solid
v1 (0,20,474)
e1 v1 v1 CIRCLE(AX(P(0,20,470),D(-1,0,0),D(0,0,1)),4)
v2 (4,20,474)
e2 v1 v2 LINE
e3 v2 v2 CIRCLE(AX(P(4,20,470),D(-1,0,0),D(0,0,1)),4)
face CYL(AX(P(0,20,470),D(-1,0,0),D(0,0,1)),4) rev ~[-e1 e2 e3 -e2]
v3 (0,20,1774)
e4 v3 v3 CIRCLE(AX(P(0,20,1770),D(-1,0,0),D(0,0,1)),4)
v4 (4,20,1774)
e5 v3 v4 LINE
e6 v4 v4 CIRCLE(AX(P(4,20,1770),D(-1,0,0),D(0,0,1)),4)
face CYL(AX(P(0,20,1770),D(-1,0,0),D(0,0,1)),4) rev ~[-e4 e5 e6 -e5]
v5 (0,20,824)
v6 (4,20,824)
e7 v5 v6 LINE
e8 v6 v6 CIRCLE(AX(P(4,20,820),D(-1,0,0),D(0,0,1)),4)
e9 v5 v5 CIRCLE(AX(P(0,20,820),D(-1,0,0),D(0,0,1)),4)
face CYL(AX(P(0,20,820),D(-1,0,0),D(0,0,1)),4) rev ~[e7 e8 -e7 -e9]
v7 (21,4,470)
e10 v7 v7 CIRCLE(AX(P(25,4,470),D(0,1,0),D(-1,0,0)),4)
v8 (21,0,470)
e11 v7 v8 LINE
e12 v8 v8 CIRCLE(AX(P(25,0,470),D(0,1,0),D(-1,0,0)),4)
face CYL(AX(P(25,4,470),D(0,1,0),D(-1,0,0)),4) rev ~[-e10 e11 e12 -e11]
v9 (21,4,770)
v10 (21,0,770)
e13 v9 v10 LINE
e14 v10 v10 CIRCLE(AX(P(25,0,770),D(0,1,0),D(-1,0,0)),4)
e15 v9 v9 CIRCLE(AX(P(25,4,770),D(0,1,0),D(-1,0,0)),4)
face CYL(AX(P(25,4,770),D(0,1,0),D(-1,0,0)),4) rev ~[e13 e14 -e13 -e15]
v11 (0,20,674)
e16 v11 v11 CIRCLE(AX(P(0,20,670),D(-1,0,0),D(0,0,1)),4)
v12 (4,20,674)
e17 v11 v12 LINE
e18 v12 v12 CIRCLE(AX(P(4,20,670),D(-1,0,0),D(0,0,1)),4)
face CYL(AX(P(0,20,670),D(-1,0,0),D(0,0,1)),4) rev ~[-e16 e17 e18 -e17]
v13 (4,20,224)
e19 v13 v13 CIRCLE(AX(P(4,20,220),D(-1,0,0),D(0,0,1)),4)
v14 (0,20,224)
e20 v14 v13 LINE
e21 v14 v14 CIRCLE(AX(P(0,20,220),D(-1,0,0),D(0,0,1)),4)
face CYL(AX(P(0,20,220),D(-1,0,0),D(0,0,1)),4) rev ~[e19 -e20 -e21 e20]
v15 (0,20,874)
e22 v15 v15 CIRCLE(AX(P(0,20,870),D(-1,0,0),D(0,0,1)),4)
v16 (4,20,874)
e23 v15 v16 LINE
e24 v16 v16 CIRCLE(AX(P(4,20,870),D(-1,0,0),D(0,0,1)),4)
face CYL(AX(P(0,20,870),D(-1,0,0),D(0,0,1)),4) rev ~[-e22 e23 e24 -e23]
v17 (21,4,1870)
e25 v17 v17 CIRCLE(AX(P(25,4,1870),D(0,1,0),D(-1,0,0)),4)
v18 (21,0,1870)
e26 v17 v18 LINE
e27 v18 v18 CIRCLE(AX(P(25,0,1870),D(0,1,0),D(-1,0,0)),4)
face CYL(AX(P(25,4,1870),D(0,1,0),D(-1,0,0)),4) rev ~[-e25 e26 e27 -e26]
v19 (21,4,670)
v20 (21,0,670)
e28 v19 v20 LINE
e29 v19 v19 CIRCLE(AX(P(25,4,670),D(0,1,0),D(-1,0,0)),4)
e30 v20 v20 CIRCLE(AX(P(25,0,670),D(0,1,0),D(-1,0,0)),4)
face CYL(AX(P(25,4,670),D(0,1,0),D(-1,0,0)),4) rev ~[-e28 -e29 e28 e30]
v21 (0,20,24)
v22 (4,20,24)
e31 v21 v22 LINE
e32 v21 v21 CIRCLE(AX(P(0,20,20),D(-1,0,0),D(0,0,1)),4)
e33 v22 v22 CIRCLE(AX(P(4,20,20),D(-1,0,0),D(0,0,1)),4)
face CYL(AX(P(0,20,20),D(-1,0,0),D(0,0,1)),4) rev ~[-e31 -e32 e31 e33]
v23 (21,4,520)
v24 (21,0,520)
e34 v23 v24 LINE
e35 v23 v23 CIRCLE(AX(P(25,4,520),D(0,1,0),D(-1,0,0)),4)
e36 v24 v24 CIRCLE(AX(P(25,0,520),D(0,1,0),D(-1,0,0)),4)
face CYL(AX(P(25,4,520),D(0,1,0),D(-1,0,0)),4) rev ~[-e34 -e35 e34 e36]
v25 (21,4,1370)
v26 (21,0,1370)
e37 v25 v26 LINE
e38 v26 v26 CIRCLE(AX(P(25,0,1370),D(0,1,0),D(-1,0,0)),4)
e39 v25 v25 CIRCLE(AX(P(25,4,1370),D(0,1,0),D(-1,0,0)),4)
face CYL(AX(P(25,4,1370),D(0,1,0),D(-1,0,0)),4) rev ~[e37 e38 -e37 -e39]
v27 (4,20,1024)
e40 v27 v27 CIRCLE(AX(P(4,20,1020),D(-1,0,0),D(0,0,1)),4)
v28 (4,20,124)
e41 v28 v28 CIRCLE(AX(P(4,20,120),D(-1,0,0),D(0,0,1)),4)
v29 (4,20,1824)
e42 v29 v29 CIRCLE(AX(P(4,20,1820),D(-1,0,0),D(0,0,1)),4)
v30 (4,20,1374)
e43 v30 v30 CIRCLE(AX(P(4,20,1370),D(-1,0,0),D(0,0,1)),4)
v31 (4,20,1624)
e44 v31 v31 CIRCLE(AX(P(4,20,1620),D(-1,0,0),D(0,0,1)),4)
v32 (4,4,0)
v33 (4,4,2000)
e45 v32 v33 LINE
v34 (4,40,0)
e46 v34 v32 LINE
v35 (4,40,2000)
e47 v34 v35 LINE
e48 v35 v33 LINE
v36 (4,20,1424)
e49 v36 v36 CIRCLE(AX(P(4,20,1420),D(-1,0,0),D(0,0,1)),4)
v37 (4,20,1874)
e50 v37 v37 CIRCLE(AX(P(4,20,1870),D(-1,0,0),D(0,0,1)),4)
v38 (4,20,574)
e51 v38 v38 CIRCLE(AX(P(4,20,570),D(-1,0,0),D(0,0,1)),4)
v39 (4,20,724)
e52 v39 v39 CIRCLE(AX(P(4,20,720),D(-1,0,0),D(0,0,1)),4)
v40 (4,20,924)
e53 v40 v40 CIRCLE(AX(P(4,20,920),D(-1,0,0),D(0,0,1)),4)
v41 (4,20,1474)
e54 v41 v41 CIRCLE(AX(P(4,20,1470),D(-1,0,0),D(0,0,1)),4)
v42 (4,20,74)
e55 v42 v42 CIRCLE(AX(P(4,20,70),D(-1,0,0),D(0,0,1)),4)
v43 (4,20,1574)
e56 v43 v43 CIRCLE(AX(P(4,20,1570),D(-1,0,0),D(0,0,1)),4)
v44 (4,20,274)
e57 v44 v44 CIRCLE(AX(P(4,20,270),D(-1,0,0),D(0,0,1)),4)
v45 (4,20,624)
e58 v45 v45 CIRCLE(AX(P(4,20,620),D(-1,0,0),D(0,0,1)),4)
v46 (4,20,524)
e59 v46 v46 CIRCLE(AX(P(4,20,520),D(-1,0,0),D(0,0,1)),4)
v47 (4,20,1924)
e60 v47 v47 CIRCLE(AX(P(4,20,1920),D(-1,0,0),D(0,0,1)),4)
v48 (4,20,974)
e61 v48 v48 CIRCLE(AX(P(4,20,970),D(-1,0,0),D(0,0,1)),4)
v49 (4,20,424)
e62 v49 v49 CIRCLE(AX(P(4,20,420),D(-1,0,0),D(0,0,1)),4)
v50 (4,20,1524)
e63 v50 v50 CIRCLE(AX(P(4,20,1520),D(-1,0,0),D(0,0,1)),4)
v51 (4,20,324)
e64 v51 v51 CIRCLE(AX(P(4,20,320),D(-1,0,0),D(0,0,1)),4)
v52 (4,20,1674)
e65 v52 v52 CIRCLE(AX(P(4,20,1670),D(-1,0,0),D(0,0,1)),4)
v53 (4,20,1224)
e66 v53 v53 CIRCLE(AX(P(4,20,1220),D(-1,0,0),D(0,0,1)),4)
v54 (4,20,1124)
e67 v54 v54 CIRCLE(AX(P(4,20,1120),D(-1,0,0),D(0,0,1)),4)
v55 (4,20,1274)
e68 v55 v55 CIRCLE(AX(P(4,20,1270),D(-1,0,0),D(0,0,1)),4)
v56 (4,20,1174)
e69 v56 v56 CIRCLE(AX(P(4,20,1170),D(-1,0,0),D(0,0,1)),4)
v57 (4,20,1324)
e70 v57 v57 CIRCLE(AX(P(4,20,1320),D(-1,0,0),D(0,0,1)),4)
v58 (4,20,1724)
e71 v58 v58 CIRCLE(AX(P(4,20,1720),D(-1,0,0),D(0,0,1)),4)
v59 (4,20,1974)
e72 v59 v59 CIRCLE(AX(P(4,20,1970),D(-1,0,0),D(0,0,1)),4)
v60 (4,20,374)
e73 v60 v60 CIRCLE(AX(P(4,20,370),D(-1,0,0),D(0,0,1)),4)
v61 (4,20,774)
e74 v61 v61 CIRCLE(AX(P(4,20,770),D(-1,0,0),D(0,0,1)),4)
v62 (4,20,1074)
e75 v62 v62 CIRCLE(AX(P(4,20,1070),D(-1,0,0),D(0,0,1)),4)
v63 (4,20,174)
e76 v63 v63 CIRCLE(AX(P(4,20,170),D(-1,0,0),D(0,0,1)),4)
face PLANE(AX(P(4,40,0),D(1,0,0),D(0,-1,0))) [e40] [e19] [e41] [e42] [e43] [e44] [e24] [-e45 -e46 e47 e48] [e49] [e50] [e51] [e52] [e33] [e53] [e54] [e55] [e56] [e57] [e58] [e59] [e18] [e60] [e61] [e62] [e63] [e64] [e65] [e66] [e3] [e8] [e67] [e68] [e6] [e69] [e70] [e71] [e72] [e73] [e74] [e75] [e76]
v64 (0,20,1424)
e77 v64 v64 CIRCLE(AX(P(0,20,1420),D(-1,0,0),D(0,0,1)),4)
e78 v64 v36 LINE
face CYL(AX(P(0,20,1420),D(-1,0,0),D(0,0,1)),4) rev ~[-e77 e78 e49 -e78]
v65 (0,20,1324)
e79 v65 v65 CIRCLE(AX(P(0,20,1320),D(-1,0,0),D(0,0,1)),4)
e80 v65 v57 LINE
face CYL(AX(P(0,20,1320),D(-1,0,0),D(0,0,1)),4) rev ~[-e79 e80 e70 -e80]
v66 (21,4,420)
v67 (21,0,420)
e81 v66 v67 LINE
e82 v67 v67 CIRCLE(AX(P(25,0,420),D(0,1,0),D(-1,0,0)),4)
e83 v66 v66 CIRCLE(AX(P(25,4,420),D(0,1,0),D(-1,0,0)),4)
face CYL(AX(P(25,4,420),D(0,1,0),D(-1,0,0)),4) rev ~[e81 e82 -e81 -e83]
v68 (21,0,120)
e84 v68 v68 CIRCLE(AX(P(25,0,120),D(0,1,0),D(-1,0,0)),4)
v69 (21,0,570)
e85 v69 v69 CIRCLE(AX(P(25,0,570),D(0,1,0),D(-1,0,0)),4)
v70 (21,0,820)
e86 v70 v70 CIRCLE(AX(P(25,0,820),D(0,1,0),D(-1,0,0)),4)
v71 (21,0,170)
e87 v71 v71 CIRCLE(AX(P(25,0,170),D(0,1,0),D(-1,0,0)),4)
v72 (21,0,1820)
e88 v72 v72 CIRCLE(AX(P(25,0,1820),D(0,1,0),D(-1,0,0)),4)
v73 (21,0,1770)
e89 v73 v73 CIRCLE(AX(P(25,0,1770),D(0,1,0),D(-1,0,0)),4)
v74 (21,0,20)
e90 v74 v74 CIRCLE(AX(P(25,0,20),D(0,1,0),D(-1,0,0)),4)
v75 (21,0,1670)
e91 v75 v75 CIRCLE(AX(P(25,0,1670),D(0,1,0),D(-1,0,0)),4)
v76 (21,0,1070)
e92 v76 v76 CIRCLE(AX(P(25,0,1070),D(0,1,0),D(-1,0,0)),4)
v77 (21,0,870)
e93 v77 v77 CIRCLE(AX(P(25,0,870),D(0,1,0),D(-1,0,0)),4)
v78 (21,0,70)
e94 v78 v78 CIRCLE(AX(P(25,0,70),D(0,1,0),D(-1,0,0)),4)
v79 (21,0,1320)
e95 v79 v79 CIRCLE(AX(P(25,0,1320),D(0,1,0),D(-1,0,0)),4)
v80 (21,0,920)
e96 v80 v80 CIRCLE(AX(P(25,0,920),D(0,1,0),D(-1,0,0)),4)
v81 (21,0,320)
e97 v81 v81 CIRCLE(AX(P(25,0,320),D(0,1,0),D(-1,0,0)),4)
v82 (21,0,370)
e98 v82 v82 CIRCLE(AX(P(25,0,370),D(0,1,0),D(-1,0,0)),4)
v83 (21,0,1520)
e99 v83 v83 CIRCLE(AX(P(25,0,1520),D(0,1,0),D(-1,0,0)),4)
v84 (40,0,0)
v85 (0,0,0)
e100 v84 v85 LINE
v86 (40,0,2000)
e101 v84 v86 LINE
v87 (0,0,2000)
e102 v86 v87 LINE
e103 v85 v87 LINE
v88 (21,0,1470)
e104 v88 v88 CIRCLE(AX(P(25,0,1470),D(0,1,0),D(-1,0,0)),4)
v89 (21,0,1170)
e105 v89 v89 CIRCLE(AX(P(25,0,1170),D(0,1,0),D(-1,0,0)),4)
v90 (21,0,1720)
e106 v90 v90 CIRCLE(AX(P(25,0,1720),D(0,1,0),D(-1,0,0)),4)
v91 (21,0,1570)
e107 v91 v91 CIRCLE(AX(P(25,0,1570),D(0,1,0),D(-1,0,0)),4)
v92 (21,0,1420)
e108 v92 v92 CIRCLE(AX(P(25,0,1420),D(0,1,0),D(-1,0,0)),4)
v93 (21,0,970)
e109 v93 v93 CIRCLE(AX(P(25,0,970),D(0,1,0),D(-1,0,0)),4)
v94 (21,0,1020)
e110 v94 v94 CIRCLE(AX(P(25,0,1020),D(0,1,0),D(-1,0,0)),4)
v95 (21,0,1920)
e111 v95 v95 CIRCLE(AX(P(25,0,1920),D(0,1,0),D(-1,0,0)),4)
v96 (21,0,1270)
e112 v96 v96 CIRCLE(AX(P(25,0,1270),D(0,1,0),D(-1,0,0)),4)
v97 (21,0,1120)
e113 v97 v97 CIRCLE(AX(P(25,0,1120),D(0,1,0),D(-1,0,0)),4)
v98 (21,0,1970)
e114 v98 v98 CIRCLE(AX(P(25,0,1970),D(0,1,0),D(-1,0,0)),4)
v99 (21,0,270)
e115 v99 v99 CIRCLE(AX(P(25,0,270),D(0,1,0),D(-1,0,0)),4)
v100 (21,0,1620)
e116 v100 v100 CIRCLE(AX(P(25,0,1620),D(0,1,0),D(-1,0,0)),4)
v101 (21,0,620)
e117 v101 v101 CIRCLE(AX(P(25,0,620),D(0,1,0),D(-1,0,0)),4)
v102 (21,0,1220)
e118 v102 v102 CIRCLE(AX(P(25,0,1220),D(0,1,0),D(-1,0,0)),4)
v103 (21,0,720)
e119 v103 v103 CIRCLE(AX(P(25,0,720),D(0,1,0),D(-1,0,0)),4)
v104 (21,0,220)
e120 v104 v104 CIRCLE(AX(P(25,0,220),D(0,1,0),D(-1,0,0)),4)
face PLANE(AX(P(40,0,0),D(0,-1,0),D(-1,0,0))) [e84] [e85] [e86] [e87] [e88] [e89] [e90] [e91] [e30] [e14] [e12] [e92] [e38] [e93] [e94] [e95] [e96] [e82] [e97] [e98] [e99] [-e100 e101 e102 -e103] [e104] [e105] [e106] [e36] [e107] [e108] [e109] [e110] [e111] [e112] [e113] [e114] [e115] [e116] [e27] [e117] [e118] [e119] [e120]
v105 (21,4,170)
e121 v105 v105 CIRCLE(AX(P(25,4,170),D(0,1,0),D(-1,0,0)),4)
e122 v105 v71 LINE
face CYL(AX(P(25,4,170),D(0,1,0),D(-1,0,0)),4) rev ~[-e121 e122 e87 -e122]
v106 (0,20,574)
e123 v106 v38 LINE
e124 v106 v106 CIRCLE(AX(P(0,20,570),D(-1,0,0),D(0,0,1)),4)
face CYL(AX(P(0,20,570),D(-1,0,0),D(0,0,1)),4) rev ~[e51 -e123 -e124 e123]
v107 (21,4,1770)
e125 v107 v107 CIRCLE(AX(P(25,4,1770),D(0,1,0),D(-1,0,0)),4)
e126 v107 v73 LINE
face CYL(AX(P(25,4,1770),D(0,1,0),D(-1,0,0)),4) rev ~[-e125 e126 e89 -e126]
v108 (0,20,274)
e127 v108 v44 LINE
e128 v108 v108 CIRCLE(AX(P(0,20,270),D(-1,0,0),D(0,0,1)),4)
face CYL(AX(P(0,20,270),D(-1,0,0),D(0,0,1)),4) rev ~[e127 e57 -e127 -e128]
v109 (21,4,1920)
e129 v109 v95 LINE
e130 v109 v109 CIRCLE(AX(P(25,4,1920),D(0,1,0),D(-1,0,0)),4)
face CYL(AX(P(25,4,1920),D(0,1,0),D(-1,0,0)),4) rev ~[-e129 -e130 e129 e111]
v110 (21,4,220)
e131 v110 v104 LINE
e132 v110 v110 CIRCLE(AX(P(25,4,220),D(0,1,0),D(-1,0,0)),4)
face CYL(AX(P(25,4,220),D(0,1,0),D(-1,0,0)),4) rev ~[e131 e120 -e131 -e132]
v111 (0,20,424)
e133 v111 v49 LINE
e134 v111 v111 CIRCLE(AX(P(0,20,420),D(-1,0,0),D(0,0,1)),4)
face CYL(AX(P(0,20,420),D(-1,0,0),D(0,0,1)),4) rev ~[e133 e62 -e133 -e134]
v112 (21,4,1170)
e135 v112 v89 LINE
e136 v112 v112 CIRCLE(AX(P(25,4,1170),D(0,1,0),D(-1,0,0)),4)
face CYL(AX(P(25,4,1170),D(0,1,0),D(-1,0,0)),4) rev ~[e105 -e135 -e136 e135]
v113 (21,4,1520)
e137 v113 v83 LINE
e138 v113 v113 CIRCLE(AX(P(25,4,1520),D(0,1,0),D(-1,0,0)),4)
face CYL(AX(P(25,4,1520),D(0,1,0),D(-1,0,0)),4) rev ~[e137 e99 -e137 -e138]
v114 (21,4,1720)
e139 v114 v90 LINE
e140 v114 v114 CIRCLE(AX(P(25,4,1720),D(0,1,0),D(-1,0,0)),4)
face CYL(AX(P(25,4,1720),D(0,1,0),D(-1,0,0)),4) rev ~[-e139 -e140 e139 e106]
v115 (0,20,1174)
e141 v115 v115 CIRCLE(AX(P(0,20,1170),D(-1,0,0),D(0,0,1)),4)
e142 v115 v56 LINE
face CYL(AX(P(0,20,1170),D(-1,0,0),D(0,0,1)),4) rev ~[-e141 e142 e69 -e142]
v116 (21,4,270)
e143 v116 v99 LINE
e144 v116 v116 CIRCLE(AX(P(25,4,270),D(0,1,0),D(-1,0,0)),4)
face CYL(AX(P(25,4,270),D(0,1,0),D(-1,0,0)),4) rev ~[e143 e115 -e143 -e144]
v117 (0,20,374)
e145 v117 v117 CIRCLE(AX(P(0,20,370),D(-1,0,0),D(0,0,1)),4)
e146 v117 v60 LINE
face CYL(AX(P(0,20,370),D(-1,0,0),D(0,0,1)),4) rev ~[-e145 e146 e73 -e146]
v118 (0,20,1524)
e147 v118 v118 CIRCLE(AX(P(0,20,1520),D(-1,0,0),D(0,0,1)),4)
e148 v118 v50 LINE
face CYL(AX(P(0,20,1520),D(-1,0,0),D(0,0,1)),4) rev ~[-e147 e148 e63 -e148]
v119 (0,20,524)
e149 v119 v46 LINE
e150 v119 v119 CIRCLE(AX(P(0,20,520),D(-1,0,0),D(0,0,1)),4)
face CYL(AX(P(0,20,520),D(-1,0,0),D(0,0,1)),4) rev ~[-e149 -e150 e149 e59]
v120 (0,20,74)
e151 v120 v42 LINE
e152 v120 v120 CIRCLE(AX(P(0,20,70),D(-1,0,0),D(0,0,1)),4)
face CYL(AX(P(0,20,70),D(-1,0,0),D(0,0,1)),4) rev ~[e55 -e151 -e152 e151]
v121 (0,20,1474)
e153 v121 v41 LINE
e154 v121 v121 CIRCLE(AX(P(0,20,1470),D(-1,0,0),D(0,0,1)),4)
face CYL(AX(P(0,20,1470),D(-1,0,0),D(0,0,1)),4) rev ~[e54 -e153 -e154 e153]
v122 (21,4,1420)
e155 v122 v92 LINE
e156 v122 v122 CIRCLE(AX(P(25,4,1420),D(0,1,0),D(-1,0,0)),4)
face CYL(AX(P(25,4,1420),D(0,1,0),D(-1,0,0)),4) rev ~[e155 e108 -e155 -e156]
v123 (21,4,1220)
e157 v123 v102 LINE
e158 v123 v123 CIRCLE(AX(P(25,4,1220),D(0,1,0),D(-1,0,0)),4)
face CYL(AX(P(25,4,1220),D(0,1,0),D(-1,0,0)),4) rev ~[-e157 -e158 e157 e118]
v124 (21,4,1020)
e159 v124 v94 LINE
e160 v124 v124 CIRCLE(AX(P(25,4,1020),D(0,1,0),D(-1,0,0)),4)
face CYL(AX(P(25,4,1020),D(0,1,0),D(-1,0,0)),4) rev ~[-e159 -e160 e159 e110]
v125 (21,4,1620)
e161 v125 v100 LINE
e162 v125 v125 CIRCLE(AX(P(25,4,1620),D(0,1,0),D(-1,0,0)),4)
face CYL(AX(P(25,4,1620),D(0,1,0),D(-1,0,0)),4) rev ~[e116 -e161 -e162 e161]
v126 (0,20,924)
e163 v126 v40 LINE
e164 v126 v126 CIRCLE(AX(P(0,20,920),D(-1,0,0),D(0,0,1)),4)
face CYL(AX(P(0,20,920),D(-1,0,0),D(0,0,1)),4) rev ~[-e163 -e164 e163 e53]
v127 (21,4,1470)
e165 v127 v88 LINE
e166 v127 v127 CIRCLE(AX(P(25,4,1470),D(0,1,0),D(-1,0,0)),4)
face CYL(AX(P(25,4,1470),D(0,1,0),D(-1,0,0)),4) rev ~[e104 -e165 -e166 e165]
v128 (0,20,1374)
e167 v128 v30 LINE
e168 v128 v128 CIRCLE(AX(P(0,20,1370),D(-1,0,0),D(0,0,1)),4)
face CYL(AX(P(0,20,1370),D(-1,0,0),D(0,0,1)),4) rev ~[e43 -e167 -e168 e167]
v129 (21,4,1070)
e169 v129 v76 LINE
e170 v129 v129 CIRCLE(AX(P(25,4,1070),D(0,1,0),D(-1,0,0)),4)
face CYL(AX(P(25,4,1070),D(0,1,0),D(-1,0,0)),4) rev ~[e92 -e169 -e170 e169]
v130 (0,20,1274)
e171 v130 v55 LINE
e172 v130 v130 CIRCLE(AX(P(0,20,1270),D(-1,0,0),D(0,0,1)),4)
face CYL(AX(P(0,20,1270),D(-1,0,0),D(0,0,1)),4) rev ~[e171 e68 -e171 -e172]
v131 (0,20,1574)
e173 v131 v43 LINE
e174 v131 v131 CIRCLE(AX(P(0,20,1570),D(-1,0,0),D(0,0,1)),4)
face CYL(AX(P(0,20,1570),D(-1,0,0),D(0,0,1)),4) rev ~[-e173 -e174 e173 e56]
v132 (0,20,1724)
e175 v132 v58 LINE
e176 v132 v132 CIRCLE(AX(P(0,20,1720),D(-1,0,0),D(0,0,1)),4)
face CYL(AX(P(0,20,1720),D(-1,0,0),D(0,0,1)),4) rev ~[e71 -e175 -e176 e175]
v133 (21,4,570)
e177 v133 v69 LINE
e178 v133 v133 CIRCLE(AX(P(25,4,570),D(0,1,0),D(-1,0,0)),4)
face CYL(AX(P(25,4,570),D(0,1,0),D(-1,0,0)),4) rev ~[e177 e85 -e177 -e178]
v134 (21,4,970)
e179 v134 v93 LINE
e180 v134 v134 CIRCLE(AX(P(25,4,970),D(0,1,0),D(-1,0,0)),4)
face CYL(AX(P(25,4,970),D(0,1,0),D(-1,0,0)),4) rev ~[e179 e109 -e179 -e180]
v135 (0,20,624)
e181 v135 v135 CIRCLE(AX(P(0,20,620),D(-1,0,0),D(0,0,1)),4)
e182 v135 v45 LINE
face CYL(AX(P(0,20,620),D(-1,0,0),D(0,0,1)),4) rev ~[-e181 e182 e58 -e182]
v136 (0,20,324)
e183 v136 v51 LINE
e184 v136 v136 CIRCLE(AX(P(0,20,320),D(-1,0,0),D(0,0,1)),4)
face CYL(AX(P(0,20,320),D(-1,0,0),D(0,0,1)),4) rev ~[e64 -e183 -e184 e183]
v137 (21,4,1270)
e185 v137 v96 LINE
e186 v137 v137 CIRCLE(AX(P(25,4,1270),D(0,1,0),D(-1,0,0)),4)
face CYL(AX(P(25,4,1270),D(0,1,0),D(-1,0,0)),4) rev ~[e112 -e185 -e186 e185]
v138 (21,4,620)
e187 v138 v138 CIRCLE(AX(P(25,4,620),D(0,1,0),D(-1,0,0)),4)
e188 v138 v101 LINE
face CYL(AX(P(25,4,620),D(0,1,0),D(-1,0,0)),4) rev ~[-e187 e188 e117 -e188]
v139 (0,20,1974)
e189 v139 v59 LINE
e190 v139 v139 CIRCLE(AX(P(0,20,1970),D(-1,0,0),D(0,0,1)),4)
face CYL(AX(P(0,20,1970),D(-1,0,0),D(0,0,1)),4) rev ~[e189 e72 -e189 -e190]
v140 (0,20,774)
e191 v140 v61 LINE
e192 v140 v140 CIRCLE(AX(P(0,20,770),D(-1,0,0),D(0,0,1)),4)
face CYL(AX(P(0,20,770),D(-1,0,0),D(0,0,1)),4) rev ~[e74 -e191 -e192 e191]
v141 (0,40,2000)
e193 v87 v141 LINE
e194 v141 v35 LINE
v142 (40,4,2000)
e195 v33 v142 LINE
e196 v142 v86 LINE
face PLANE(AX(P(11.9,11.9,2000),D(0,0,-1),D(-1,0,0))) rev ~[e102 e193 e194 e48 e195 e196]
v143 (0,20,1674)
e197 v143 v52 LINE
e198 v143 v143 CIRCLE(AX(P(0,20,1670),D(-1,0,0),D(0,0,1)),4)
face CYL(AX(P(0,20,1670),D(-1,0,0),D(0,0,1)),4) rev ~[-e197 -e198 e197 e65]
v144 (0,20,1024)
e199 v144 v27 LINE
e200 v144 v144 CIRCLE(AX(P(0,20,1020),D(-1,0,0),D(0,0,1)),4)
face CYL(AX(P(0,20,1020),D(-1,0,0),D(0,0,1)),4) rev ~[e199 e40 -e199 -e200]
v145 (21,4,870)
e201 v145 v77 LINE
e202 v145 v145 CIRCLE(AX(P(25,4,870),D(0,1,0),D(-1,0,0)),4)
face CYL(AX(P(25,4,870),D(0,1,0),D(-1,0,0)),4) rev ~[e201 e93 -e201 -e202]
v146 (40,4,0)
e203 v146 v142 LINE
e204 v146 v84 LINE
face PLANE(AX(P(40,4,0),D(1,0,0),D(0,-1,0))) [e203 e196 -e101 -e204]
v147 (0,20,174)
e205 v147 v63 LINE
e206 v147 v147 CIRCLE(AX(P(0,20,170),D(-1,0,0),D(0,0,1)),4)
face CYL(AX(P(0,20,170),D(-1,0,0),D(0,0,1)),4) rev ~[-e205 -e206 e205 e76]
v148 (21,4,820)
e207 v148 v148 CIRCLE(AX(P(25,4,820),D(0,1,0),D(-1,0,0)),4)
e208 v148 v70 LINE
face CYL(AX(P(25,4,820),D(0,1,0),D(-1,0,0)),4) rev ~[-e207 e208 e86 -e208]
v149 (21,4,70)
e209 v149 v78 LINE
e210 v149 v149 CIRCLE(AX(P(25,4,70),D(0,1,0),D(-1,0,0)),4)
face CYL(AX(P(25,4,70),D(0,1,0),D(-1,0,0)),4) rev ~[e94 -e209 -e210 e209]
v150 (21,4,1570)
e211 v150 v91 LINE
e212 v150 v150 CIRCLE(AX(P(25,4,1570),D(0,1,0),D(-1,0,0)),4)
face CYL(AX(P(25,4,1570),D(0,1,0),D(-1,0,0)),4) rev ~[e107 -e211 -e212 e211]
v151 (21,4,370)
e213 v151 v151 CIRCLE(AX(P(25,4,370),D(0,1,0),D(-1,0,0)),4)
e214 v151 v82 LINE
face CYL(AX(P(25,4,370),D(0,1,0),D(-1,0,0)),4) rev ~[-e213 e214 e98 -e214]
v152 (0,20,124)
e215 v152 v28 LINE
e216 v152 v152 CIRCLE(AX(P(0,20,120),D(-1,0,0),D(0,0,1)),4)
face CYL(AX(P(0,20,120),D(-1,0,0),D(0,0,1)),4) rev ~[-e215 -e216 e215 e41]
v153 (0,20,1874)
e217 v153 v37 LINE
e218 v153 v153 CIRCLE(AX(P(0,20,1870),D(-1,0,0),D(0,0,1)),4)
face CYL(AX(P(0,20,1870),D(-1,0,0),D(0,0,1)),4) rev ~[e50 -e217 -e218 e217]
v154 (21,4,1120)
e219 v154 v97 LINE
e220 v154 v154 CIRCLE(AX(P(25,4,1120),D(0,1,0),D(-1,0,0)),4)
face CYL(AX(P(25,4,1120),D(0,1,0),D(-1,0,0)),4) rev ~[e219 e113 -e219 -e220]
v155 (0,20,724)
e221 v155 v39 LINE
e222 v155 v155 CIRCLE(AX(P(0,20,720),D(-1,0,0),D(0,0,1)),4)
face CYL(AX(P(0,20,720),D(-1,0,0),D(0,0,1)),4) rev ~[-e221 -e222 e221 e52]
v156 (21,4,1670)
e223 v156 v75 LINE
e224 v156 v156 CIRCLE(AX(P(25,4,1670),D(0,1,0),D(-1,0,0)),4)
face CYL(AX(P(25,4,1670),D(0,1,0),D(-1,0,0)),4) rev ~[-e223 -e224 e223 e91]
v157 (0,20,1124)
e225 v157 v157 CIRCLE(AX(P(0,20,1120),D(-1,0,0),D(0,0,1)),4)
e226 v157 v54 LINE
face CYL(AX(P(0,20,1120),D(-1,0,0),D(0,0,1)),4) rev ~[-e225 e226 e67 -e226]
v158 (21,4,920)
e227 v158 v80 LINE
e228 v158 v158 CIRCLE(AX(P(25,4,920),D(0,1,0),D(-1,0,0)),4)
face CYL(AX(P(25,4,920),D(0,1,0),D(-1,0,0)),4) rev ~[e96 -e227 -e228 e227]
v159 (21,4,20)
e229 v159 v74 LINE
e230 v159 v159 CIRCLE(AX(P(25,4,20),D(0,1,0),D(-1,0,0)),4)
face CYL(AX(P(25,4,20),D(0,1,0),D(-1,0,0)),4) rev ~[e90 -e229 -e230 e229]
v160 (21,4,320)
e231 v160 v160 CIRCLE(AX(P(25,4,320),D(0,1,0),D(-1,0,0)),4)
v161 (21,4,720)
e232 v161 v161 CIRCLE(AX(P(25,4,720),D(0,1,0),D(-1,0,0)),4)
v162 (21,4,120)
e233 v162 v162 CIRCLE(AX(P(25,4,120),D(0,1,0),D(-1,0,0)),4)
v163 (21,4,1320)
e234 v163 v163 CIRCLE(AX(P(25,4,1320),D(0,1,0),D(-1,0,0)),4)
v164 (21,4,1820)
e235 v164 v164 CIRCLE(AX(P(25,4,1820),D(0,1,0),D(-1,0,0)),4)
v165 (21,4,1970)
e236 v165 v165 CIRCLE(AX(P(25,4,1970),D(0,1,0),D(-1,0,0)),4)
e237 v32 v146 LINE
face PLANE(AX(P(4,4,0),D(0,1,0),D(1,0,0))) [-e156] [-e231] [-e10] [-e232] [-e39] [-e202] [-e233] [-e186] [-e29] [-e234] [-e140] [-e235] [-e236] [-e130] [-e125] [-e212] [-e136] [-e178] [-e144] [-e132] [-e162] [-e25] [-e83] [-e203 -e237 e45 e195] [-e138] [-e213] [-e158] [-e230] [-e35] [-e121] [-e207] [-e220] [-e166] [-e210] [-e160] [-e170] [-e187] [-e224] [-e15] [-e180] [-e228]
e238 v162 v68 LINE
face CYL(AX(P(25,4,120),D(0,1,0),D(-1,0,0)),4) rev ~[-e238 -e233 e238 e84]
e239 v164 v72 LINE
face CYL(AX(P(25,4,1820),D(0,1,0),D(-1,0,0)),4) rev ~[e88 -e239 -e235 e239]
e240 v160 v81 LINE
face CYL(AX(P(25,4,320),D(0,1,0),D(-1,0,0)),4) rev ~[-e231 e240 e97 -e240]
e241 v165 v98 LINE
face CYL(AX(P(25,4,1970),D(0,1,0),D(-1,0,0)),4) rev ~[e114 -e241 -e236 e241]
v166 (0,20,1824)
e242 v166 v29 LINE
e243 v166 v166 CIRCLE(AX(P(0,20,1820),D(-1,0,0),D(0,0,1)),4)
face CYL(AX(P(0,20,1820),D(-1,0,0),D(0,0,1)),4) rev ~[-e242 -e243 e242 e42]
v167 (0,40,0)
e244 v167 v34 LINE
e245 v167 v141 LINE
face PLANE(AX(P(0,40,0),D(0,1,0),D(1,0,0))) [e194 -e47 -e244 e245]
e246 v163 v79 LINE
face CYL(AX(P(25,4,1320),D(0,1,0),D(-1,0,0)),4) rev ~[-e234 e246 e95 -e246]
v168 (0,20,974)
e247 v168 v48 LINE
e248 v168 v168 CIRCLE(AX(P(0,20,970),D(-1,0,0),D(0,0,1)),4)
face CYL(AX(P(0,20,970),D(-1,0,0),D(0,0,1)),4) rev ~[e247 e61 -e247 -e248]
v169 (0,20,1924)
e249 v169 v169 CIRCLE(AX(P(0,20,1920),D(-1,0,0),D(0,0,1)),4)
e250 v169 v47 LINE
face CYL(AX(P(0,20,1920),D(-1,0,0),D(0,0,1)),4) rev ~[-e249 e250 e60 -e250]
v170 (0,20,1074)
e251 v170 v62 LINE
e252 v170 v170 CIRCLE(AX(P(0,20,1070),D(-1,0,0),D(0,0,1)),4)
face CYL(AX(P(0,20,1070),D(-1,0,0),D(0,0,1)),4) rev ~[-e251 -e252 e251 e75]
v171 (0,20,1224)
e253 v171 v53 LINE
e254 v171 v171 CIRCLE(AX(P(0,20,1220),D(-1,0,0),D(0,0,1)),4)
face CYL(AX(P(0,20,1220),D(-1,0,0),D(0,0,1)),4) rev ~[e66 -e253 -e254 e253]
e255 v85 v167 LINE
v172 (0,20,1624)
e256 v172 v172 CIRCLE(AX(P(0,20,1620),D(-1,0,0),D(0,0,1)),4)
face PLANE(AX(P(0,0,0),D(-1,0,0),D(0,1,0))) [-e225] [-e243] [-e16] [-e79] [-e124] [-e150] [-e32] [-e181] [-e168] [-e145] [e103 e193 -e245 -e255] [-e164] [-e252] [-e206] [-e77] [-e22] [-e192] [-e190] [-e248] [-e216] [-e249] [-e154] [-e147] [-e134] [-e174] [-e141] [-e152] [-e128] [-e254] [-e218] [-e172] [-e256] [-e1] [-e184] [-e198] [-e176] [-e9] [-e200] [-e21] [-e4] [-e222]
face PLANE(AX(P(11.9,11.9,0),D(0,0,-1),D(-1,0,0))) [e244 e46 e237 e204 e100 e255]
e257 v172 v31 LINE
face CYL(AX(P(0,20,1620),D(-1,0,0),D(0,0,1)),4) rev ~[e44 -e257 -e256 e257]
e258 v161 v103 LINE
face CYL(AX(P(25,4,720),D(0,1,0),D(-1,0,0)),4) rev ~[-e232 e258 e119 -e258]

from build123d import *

# Parameters (mm, degrees)
SALIENTE_EXTRUIR1_DEPTH = 2000
CROQUIS2_R              = 4
CORTAR_EXTRUIR1_DEPTH   = 10
MATRIZL1_COUNT          = 40
MATRIZL1_PITCH          = 50
SKETCH1_R               = 4
CUT_EXTRUDE1_DEPTH      = 10


with BuildPart() as part:
    # Croquis1 → Saliente-Extruir1 (new body)
    with BuildSketch(Plane.XY):
        Polygon((0, 0), (0, 40), (4, 40), (4, 4), (40, 4), (40, 0), align=None)
    extrude(amount=SALIENTE_EXTRUIR1_DEPTH)

    # Croquis2 → Cortar-Extruir1 (cut)
    with BuildSketch(Plane(origin=(0, 4, 0), x_dir=(1, 0, 0), z_dir=(0, 1, 0))):
        with Locations(Location((25, -20, 0), (0, 0, 180))):
            Circle(CROQUIS2_R)
    cortar_extruir1 = extrude(amount=-CORTAR_EXTRUIR1_DEPTH, mode=Mode.SUBTRACT)

    # MatrizL1: Cortar-Extruir1 ×40
    with Locations(*[(0, 0, i * MATRIZL1_PITCH) for i in range(1, MATRIZL1_COUNT)]):
        add(cortar_extruir1, mode=Mode.SUBTRACT)

    # Sketch1 → Cut-Extrude1 (cut)
    with BuildSketch(Plane.ZY):
        with Locations((20, 20)):
            Circle(SKETCH1_R)
        with Locations((70, 20)):
            Circle(SKETCH1_R)
        with Locations((120, 20)):
            Circle(SKETCH1_R)
        with Locations((170, 20)):
            Circle(SKETCH1_R)
        with Locations((220, 20)):
            Circle(SKETCH1_R)
        with Locations((270, 20)):
            Circle(SKETCH1_R)
        with Locations((320, 20)):
            Circle(SKETCH1_R)
        with Locations((370, 20)):
            Circle(SKETCH1_R)
        with Locations((420, 20)):
            Circle(SKETCH1_R)
        with Locations((470, 20)):
            Circle(SKETCH1_R)
        with Locations((520, 20)):
            Circle(SKETCH1_R)
        with Locations((570, 20)):
            Circle(SKETCH1_R)
        with Locations((620, 20)):
            Circle(SKETCH1_R)
        with Locations((670, 20)):
            Circle(SKETCH1_R)
        with Locations((720, 20)):
            Circle(SKETCH1_R)
        with Locations((770, 20)):
            Circle(SKETCH1_R)
        with Locations((820, 20)):
            Circle(SKETCH1_R)
        with Locations((870, 20)):
            Circle(SKETCH1_R)
        with Locations((920, 20)):
            Circle(SKETCH1_R)
        with Locations((970, 20)):
            Circle(SKETCH1_R)
        with Locations((1020, 20)):
            Circle(SKETCH1_R)
        with Locations((1070, 20)):
            Circle(SKETCH1_R)
        with Locations((1120, 20)):
            Circle(SKETCH1_R)
        with Locations((1170, 20)):
            Circle(SKETCH1_R)
        with Locations((1220, 20)):
            Circle(SKETCH1_R)
        with Locations((1270, 20)):
            Circle(SKETCH1_R)
        with Locations((1320, 20)):
            Circle(SKETCH1_R)
        with Locations((1370, 20)):
            Circle(SKETCH1_R)
        with Locations((1420, 20)):
            Circle(SKETCH1_R)
        with Locations((1470, 20)):
            Circle(SKETCH1_R)
        with Locations((1520, 20)):
            Circle(SKETCH1_R)
        with Locations((1570, 20)):
            Circle(SKETCH1_R)
        with Locations((1620, 20)):
            Circle(SKETCH1_R)
        with Locations((1670, 20)):
            Circle(SKETCH1_R)
        with Locations((1720, 20)):
            Circle(SKETCH1_R)
        with Locations((1770, 20)):
            Circle(SKETCH1_R)
        with Locations((1820, 20)):
            Circle(SKETCH1_R)
        with Locations((1870, 20)):
            Circle(SKETCH1_R)
        with Locations((1920, 20)):
            Circle(SKETCH1_R)
        with Locations((1970, 20)):
            Circle(SKETCH1_R)
    extrude(amount=-CUT_EXTRUDE1_DEPTH, mode=Mode.SUBTRACT)


solid = part.part
